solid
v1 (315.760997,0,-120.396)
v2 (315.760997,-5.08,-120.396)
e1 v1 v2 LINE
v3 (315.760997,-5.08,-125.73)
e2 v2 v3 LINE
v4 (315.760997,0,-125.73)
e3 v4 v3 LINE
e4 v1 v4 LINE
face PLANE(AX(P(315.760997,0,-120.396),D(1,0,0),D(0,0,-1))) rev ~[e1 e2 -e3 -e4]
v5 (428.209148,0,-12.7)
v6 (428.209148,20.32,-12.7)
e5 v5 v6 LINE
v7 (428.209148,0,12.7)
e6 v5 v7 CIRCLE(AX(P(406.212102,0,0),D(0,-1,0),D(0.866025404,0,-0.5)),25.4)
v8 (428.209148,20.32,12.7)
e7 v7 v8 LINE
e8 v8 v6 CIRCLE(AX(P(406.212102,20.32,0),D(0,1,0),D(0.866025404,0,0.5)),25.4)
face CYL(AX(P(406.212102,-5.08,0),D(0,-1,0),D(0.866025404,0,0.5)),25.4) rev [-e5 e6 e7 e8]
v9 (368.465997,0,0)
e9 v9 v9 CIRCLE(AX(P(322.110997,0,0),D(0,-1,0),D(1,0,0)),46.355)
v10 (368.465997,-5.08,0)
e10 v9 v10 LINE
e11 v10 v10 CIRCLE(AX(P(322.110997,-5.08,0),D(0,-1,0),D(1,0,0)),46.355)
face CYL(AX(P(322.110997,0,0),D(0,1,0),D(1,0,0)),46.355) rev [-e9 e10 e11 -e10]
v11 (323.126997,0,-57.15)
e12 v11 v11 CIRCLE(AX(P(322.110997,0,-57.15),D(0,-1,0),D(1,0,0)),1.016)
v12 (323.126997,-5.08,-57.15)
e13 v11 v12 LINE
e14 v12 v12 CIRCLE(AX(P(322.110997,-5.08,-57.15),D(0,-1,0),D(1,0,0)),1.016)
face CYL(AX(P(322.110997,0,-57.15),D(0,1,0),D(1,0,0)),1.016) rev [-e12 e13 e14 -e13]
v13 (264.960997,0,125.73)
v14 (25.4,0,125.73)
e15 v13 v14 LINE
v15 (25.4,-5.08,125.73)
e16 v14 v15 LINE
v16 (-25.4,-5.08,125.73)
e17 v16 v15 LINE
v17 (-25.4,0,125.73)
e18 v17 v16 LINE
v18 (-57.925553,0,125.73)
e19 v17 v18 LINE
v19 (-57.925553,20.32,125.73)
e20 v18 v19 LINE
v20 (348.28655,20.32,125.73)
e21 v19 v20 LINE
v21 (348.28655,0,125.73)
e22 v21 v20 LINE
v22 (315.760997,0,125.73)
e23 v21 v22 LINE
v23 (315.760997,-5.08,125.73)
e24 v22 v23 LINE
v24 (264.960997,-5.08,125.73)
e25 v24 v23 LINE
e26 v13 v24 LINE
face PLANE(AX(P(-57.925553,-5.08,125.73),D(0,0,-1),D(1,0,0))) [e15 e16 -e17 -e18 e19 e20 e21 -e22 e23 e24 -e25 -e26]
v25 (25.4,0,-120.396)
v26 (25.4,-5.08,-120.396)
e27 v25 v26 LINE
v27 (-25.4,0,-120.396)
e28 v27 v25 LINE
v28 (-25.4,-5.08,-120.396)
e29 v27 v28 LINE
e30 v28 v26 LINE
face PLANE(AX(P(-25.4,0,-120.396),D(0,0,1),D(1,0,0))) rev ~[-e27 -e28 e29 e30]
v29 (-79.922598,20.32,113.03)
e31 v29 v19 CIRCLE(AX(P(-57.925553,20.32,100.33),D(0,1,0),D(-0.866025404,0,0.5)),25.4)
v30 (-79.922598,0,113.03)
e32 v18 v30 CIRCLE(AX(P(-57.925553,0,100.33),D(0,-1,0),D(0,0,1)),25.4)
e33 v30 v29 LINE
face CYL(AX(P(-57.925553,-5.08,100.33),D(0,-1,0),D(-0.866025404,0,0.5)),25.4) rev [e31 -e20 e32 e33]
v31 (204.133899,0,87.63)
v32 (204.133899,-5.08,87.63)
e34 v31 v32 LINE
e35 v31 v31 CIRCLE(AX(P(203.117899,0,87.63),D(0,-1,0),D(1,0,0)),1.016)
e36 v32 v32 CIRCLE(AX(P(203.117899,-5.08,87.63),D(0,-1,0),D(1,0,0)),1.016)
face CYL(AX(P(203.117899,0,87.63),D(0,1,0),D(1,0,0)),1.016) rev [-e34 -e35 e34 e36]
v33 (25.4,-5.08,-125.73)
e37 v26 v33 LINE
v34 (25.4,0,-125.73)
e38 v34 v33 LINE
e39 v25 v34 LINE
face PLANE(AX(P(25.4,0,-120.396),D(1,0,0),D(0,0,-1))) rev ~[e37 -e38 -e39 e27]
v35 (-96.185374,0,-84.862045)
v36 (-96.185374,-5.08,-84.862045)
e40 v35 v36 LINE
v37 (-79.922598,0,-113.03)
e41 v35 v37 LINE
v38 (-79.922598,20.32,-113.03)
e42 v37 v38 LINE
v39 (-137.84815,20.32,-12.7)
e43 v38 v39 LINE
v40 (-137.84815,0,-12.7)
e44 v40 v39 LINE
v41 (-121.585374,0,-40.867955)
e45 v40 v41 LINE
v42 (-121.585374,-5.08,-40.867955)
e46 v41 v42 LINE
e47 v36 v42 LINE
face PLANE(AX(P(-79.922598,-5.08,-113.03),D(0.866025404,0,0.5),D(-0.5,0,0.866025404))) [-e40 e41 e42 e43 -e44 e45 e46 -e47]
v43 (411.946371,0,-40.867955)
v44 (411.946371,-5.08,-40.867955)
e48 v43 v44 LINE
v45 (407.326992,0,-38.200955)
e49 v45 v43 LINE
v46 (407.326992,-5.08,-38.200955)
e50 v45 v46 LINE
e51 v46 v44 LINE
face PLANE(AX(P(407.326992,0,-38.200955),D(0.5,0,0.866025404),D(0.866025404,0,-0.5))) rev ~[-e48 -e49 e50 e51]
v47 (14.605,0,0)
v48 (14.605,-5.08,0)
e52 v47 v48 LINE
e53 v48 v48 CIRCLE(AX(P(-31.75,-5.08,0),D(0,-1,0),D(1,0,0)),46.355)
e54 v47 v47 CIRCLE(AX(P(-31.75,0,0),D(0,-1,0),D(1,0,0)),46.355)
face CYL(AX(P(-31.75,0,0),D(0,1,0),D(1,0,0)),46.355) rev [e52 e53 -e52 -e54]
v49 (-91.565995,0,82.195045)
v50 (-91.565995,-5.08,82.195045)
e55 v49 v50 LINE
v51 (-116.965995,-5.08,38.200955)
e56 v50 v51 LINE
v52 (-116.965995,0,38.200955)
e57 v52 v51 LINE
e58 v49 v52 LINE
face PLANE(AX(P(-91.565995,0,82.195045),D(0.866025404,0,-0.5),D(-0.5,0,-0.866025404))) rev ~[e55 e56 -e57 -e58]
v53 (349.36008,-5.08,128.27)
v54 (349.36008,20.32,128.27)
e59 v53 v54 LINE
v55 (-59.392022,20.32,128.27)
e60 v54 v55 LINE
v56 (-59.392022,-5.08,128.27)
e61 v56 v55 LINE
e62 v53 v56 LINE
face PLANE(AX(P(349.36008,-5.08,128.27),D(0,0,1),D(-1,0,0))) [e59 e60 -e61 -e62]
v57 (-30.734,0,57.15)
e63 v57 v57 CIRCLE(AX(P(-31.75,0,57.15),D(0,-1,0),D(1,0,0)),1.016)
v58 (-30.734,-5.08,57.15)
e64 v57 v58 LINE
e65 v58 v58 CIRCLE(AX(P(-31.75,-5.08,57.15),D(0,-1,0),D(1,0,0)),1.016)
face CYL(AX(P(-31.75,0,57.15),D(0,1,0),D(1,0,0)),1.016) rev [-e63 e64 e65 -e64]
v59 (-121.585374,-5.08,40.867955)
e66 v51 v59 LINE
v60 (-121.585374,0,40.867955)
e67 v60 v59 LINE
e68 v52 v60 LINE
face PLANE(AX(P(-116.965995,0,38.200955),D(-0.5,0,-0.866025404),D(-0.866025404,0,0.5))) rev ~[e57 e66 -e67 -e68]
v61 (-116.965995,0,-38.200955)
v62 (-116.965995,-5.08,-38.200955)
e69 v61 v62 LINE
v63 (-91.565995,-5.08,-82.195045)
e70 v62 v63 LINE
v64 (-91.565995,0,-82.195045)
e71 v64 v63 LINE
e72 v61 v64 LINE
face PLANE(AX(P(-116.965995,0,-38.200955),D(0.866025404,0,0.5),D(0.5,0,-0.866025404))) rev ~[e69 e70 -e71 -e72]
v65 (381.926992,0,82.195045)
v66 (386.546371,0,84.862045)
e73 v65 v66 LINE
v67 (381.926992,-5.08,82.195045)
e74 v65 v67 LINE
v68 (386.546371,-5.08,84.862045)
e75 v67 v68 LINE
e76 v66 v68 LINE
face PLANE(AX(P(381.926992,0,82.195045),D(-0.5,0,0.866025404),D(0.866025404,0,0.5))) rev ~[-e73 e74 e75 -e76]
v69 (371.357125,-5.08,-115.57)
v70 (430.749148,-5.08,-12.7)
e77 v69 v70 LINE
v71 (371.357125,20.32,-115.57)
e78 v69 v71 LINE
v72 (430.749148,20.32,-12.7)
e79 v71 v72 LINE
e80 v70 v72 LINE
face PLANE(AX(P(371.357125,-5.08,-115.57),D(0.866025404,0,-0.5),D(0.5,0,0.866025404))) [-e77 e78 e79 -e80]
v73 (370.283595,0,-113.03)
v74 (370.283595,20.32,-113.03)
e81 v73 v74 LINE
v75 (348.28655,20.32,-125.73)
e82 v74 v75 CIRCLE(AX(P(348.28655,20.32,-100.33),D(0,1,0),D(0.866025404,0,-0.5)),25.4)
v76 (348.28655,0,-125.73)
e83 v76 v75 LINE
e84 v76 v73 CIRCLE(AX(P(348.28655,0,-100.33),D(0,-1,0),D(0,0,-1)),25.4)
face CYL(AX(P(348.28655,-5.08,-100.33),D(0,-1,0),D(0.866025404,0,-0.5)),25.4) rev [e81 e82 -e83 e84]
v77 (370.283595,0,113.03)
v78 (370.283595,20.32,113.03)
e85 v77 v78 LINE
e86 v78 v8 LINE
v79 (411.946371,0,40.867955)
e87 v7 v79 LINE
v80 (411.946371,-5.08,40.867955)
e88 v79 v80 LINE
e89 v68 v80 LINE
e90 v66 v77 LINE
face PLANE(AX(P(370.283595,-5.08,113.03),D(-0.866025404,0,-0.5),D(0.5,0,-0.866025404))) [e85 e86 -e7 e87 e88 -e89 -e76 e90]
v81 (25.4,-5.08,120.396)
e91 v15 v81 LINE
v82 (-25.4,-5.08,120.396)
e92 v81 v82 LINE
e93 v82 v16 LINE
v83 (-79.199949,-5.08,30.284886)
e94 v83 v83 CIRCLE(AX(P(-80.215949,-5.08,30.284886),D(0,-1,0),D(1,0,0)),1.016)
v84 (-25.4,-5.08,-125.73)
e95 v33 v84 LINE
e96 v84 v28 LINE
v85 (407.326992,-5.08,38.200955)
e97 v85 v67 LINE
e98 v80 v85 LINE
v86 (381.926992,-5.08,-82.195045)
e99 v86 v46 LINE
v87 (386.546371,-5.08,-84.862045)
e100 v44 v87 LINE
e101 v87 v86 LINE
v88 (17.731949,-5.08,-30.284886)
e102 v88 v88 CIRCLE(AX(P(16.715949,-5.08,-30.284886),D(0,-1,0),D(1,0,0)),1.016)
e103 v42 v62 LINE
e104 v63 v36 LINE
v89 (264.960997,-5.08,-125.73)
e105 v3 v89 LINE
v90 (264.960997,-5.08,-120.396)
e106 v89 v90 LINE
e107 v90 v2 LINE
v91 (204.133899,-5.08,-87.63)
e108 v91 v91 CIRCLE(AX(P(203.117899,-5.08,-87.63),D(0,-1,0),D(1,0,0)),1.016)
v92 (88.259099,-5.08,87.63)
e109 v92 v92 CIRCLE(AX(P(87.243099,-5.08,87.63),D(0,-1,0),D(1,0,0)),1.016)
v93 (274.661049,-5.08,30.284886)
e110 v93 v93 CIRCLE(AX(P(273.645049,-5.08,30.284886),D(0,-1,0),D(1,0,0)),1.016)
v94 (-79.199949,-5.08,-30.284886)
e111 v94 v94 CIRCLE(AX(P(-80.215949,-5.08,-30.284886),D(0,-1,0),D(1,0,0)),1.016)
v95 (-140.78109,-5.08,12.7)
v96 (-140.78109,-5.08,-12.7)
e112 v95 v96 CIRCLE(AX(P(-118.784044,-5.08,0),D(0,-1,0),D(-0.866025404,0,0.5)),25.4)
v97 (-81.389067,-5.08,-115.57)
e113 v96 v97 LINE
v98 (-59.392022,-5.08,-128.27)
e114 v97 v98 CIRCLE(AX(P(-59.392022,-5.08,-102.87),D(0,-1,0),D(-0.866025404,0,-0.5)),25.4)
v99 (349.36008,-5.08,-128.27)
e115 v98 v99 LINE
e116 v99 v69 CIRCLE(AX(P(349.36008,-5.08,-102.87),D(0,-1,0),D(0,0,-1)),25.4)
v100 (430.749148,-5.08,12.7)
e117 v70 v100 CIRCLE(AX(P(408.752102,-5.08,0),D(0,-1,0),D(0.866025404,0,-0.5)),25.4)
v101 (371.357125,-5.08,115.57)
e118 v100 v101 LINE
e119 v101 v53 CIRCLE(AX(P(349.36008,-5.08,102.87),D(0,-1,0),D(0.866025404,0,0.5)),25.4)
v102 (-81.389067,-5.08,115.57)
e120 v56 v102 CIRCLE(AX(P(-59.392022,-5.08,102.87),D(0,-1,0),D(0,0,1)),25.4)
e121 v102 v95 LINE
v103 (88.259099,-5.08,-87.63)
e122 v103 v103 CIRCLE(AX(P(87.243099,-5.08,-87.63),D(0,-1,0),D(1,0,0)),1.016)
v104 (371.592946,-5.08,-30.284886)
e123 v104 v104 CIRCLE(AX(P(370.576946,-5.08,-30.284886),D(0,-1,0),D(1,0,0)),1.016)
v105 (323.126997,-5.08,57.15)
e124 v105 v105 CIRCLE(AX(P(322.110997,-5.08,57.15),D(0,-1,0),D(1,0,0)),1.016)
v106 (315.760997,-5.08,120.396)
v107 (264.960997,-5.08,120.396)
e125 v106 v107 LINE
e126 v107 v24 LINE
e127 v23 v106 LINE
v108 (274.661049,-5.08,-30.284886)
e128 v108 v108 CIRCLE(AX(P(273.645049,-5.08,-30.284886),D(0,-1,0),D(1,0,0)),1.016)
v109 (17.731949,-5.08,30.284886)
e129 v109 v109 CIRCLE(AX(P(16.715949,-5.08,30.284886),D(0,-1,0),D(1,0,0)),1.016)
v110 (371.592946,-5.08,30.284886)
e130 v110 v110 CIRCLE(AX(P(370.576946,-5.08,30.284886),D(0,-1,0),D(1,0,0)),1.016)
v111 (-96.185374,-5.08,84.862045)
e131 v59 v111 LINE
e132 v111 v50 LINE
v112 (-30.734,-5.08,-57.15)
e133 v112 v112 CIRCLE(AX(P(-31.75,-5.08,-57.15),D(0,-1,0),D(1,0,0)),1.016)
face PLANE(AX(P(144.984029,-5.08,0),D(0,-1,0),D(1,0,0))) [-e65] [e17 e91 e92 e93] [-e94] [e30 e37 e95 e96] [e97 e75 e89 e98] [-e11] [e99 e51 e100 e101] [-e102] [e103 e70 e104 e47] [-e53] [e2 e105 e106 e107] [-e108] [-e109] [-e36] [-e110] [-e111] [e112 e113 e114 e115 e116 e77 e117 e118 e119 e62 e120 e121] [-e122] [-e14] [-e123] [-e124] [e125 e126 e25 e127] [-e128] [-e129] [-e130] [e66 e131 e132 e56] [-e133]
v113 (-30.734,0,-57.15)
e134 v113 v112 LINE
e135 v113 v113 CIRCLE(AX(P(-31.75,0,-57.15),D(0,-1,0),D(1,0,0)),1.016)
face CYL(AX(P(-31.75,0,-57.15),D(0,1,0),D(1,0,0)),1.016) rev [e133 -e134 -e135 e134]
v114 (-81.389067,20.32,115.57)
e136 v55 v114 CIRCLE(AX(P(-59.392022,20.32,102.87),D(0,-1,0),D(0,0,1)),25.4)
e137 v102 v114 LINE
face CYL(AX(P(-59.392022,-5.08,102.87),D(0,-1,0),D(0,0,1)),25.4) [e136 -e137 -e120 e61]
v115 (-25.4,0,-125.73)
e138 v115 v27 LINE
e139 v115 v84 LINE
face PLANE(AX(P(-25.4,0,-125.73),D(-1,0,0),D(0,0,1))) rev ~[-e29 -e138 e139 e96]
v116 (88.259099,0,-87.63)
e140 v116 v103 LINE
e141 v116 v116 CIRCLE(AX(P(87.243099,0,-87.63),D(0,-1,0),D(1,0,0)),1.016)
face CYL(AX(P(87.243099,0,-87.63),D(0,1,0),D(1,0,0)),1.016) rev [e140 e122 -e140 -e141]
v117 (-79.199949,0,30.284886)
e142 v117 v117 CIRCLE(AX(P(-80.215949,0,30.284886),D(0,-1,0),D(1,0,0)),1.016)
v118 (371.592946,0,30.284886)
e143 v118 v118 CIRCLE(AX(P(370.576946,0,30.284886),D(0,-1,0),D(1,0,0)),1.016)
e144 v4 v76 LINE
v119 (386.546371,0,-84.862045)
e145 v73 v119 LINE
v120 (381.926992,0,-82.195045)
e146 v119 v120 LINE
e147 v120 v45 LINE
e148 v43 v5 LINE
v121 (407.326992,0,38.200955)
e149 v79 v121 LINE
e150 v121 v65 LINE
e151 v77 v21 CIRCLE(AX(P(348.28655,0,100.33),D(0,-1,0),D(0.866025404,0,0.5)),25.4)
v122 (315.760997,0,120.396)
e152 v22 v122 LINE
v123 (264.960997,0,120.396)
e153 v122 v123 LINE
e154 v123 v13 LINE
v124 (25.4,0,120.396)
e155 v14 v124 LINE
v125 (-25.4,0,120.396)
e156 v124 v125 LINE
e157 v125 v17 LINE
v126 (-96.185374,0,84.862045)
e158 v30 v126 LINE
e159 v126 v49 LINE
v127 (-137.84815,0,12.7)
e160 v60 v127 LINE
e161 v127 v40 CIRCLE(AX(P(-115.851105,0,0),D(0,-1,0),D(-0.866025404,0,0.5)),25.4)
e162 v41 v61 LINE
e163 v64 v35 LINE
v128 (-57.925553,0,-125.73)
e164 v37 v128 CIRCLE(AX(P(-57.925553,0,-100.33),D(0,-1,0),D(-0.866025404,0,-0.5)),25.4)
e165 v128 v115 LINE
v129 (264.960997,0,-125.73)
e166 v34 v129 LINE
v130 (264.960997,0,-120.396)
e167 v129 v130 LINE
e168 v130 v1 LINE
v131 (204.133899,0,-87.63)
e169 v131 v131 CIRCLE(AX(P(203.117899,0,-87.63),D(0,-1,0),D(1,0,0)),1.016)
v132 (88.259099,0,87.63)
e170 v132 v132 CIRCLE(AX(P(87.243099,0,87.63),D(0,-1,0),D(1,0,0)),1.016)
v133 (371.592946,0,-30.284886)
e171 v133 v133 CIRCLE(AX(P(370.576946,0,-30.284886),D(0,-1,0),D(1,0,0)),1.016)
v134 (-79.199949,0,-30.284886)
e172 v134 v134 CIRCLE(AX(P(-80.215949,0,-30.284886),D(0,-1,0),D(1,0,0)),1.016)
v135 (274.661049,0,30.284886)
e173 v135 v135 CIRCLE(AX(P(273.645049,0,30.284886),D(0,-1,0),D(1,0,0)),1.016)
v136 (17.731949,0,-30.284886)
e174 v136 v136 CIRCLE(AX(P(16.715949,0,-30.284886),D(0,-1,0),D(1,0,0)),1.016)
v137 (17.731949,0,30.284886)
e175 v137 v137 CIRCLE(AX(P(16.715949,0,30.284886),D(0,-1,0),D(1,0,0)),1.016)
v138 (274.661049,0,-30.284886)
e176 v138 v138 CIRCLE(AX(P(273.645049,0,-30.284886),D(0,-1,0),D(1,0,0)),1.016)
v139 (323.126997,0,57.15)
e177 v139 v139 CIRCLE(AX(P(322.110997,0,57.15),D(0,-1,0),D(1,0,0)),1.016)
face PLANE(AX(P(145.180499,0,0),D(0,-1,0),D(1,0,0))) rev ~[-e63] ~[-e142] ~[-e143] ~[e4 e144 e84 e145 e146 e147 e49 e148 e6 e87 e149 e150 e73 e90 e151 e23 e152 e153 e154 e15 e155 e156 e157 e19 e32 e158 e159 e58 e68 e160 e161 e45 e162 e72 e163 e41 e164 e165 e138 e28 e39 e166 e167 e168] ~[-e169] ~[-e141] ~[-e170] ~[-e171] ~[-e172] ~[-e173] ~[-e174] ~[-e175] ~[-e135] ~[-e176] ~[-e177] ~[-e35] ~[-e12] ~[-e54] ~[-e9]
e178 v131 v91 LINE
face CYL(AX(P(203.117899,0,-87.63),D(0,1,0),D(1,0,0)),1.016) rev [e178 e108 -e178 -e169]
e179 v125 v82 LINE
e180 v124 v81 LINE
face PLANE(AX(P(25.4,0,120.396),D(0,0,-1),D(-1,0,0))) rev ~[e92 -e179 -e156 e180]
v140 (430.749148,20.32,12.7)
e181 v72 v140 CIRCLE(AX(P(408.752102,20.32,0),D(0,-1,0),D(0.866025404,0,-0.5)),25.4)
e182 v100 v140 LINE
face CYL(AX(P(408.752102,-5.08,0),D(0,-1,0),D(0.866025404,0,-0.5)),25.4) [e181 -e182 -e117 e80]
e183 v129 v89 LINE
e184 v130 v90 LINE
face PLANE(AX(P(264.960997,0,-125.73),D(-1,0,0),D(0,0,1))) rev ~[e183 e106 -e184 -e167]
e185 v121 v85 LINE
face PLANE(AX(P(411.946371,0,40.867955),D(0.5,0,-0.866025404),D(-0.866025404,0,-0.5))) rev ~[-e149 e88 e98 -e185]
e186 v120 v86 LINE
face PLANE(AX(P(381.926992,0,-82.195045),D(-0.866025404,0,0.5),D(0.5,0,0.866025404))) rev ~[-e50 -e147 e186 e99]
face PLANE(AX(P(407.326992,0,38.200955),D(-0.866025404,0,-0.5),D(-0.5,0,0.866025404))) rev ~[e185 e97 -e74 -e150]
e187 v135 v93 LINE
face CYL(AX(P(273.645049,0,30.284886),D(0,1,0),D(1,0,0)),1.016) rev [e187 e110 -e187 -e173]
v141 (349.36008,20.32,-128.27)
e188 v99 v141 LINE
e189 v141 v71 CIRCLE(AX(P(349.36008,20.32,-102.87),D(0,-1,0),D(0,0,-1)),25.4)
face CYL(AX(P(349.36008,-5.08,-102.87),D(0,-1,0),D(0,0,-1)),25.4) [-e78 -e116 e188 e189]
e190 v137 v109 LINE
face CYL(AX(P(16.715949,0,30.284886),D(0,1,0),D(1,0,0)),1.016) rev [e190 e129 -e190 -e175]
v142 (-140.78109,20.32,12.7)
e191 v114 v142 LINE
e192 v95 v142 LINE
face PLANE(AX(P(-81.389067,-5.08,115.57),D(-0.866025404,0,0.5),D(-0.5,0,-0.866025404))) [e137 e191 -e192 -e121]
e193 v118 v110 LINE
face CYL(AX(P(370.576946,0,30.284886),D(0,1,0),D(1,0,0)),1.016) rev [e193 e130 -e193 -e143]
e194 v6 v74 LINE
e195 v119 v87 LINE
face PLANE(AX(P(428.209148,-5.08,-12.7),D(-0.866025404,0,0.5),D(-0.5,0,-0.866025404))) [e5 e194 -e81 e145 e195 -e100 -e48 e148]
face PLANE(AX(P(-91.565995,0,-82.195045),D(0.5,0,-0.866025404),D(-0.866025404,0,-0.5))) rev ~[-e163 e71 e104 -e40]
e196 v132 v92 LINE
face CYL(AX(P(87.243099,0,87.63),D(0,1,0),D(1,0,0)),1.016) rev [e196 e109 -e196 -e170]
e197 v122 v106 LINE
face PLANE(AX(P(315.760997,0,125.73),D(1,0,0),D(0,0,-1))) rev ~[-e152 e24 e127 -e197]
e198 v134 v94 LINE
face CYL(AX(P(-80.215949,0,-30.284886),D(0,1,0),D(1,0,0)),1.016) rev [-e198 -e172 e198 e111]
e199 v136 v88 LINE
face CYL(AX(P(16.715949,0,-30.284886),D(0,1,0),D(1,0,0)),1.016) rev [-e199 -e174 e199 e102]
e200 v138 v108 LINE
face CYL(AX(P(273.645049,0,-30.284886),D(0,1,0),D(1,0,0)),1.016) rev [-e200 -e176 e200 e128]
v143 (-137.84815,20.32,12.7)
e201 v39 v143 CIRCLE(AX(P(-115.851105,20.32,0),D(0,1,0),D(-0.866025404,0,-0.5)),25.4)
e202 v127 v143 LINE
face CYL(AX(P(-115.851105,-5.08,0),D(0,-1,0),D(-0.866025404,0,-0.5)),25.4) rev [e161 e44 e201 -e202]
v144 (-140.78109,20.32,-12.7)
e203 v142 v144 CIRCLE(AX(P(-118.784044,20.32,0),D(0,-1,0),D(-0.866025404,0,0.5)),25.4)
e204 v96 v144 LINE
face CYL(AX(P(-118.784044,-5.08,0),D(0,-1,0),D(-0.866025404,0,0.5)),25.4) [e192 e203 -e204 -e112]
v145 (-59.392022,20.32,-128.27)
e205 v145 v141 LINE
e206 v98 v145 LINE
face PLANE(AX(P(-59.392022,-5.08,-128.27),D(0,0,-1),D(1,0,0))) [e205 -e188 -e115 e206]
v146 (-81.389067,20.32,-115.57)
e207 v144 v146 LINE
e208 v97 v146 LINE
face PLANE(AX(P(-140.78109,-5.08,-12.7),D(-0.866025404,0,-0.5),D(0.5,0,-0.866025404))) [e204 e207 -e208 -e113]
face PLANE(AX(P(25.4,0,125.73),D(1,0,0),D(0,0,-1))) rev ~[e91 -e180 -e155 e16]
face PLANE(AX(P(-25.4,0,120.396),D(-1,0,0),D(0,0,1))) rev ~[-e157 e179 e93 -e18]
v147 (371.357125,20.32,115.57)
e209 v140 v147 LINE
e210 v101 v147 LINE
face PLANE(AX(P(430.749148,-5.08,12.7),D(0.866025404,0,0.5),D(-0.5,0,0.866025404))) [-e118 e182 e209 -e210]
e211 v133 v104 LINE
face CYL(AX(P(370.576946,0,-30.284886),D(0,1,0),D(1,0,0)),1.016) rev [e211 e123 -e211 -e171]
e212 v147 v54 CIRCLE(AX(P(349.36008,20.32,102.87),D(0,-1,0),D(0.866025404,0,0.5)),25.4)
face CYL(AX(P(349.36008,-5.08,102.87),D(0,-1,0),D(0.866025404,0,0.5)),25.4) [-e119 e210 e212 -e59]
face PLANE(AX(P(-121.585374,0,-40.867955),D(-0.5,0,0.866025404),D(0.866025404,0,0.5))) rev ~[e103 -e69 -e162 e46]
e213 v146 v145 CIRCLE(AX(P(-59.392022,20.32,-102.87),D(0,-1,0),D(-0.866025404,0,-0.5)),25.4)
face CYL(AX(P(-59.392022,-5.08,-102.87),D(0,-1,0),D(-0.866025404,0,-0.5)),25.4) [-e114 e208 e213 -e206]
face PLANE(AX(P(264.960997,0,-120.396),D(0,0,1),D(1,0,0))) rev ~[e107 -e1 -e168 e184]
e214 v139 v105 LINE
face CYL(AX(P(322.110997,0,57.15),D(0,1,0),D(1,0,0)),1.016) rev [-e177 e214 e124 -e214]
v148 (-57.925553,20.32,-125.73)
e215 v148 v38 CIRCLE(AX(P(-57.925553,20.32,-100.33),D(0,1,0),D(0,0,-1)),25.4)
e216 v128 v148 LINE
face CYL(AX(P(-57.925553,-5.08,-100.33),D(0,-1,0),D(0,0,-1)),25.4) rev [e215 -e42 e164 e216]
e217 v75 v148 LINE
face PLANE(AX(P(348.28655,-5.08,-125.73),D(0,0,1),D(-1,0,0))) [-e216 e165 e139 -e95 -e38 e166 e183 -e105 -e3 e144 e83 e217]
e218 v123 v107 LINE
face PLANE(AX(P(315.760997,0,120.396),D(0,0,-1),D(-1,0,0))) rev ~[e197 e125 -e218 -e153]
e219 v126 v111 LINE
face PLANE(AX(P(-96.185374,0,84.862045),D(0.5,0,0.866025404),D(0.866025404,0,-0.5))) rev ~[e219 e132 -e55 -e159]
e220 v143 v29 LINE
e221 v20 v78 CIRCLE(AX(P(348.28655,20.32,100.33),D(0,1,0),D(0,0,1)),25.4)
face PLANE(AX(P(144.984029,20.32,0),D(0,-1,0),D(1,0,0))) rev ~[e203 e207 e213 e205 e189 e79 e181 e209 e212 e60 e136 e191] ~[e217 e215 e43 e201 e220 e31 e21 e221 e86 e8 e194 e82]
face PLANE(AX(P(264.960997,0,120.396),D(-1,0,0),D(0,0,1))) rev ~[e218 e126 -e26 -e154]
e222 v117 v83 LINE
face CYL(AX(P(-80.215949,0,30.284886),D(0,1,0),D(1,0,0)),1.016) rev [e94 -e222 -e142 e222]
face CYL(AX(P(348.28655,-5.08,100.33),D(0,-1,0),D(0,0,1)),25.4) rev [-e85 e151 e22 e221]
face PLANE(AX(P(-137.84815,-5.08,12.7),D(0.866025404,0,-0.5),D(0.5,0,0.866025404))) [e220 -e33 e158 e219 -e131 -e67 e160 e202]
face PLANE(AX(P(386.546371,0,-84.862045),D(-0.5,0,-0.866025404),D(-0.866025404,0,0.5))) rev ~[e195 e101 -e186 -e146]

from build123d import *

# Parameters (mm, degrees)
F0_R     = 1.016
F0_R_2   = 46.355
F1_DEPTH = 5.08
F3_DEPTH = 25.4


with BuildPart() as f1:
    # F0 (on Front) → F1 (new body)
    with BuildSketch(Plane.XZ):
        with BuildLine():
            Line((217.7707480356, 125.73), (72.5902493452, 125.73))
            Line((72.5902493452, 125.73), (25.4, 125.73))
            Line((25.4, 125.73), (25.4, 120.396))
            Line((25.4, 120.396), (-25.4, 120.396))
            Line((-25.4, 120.396), (-25.4, 125.73))
            Line((-25.4, 125.73), (-57.9255525078, 125.73))
            ThreePointArc((-57.9255525078, 125.73), (-70.6255525078, 122.3270452561), (-79.9225977639, 113.03))
            Line((-79.9225977639, 113.03), (-96.1853740178, 84.8620452561))
            Line((-96.1853740178, 84.8620452561), (-91.565994514, 82.1950452561))
            Line((-91.565994514, 82.1950452561), (-116.965994514, 38.2009547439))
            Line((-116.965994514, 38.2009547439), (-121.5853740178, 40.8679547439))
            Line((-121.5853740178, 40.8679547439), (-137.8481502717, 12.7))
            ThreePointArc((-137.8481502717, 12.7), (-141.2511050156, 0), (-137.8481502717, -12.7))
            Line((-137.8481502717, -12.7), (-121.5853740178, -40.8679547439))
            Line((-121.5853740178, -40.8679547439), (-116.965994514, -38.2009547439))
            Line((-116.965994514, -38.2009547439), (-91.565994514, -82.1950452561))
            Line((-91.565994514, -82.1950452561), (-96.1853740178, -84.8620452561))
            Line((-96.1853740178, -84.8620452561), (-79.9225977639, -113.03))
            ThreePointArc((-79.9225977639, -113.03), (-70.6255525078, -122.3270452561), (-57.9255525078, -125.73))
            Line((-57.9255525078, -125.73), (-25.4, -125.73))
            Line((-25.4, -125.73), (-25.4, -120.396))
            Line((-25.4, -120.396), (25.4, -120.396))
            Line((25.4, -120.396), (25.4, -125.73))
            Line((25.4, -125.73), (72.5902493452, -125.73))
            Line((72.5902493452, -125.73), (217.7707480356, -125.73))
            Line((217.7707480356, -125.73), (264.9609973808, -125.73))
            Line((264.9609973808, -125.73), (264.9609973808, -120.396))
            Line((264.9609973808, -120.396), (315.7609973808, -120.396))
            Line((315.7609973808, -120.396), (315.7609973808, -125.73))
            Line((315.7609973808, -125.73), (348.2865498886, -125.73))
            ThreePointArc((348.2865498886, -125.73), (360.9865498886, -122.3270452561), (370.2835951448, -113.03))
            Line((370.2835951448, -113.03), (386.5463713987, -84.8620452561))
            Line((386.5463713987, -84.8620452561), (381.9269918949, -82.1950452561))
            Line((381.9269918949, -82.1950452561), (407.3269918949, -38.2009547439))
            Line((407.3269918949, -38.2009547439), (411.9463713987, -40.8679547439))
            Line((411.9463713987, -40.8679547439), (428.2091476526, -12.7))
            ThreePointArc((428.2091476526, -12.7), (431.6121023964, 0), (428.2091476526, 12.7))
            Line((428.2091476526, 12.7), (411.9463713987, 40.8679547439))
            Line((411.9463713987, 40.8679547439), (407.3269918949, 38.2009547439))
            Line((407.3269918949, 38.2009547439), (381.9269918949, 82.1950452561))
            Line((381.9269918949, 82.1950452561), (386.5463713987, 84.8620452561))
            Line((386.5463713987, 84.8620452561), (370.2835951448, 113.03))
            ThreePointArc((370.2835951448, 113.03), (360.9865498886, 122.3270452561), (348.2865498886, 125.73))
            Line((348.2865498886, 125.73), (315.7609973808, 125.73))
            Line((315.7609973808, 125.73), (315.7609973808, 120.396))
            Line((315.7609973808, 120.396), (264.9609973808, 120.396))
            Line((264.9609973808, 120.396), (264.9609973808, 125.73))
            Line((264.9609973808, 125.73), (217.7707480356, 125.73))
        make_face()
        with Locations((87.2430986904, -87.63)):
            Circle(F0_R, mode=Mode.SUBTRACT)
        with Locations((-31.75, -57.15)):
            Circle(F0_R, mode=Mode.SUBTRACT)
        with Locations((-80.2159486953, -30.2848859509)):
            Circle(F0_R, mode=Mode.SUBTRACT)
        with Locations((16.7159486953, -30.2848859509)):
            Circle(F0_R, mode=Mode.SUBTRACT)
        with Locations((203.1178986904, -87.63)):
            Circle(F0_R, mode=Mode.SUBTRACT)
        with Locations((273.6450486855, -30.2848859509)):
            Circle(F0_R, mode=Mode.SUBTRACT)
        with Locations((322.1109973808, -57.15)):
            Circle(F0_R, mode=Mode.SUBTRACT)
        with Locations((370.5769460762, -30.2848859509)):
            Circle(F0_R, mode=Mode.SUBTRACT)
        with Locations((-80.2159486953, 30.2848859509)):
            Circle(F0_R, mode=Mode.SUBTRACT)
        with Locations((-31.75, 0)):
            Circle(F0_R_2, mode=Mode.SUBTRACT)
        with Locations((-31.75, 57.15)):
            Circle(F0_R, mode=Mode.SUBTRACT)
        with Locations((16.7159486953, 30.2848859509)):
            Circle(F0_R, mode=Mode.SUBTRACT)
        with Locations((87.2430986904, 87.63)):
            Circle(F0_R, mode=Mode.SUBTRACT)
        with Locations((273.6450486855, 30.2848859509)):
            Circle(F0_R, mode=Mode.SUBTRACT)
        with Locations((322.1109973808, 0)):
            Circle(F0_R_2, mode=Mode.SUBTRACT)
        with Locations((370.5769460762, 30.2848859509)):
            Circle(F0_R, mode=Mode.SUBTRACT)
        with Locations((322.1109973808, 57.15)):
            Circle(F0_R, mode=Mode.SUBTRACT)
        with Locations((203.1178986904, 87.63)):
            Circle(F0_R, mode=Mode.SUBTRACT)
    extrude(amount=F1_DEPTH)

    # F2 (on face) → F3 (join)
    with BuildSketch(Plane.XZ.offset(5.08)):
        with BuildLine():
            Line((74.056719029, 128.27), (-59.3920221915, 128.27))
            ThreePointArc((-59.3920221915, 128.27), (-72.0920221915, 124.8670452561), (-81.3890674477, 115.57))
            Line((-81.3890674477, 115.57), (-140.7810896392, 12.7))
            ThreePointArc((-140.7810896392, 12.7), (-144.1840443831, 0), (-140.7810896392, -12.7))
            Line((-140.7810896392, -12.7), (-81.3890674477, -115.57))
            ThreePointArc((-81.3890674477, -115.57), (-72.0920221915, -124.8670452561), (-59.3920221915, -128.27))
            Line((-59.3920221915, -128.27), (74.056719029, -128.27))
            Line((74.056719029, -128.27), (349.3600802049, -128.27))
            ThreePointArc((349.3600802049, -128.27), (362.0600802049, -124.8670452561), (371.357125461, -115.57))
            Line((371.357125461, -115.57), (430.7491476526, -12.7))
            ThreePointArc((430.7491476526, -12.7), (434.1521023964, 0), (430.7491476526, 12.7))
            Line((430.7491476526, 12.7), (371.357125461, 115.57))
            ThreePointArc((371.357125461, 115.57), (362.0600802049, 124.8670452561), (349.3600802049, 128.27))
            Line((349.3600802049, 128.27), (215.9113389844, 128.27))
            Line((215.9113389844, 128.27), (74.056719029, 128.27))
        make_face()
        with BuildLine():
            Line((-57.9255525078, 125.73), (-25.4, 125.73))
            Line((-25.4, 125.73), (25.4, 125.73))
            Line((25.4, 125.73), (264.9609973808, 125.73))
            Line((264.9609973808, 125.73), (315.7609973808, 125.73))
            Line((315.7609973808, 125.73), (348.2865498886, 125.73))
            ThreePointArc((348.2865498886, 125.73), (360.9865498886, 122.3270452561), (370.2835951448, 113.03))
            Line((370.2835951448, 113.03), (386.5463713987, 84.8620452561))
            Line((386.5463713987, 84.8620452561), (411.9463713987, 40.8679547439))
            Line((411.9463713987, 40.8679547439), (428.2091476526, 12.7))
            ThreePointArc((428.2091476526, 12.7), (431.6121023964, 0), (428.2091476526, -12.7))
            Line((428.2091476526, -12.7), (411.9463713987, -40.8679547439))
            Line((411.9463713987, -40.8679547439), (386.5463713987, -84.8620452561))
            Line((386.5463713987, -84.8620452561), (370.2835951448, -113.03))
            ThreePointArc((370.2835951448, -113.03), (360.9865498886, -122.3270452561), (348.2865498886, -125.73))
            Line((348.2865498886, -125.73), (315.7609973808, -125.73))
            Line((315.7609973808, -125.73), (264.9609973808, -125.73))
            Line((264.9609973808, -125.73), (25.4, -125.73))
            Line((25.4, -125.73), (-25.4, -125.73))
            Line((-25.4, -125.73), (-57.9255525078, -125.73))
            ThreePointArc((-57.9255525078, -125.73), (-70.6255525078, -122.3270452561), (-79.9225977639, -113.03))
            Line((-79.9225977639, -113.03), (-96.1853740178, -84.8620452561))
            Line((-96.1853740178, -84.8620452561), (-121.5853740178, -40.8679547439))
            Line((-121.5853740178, -40.8679547439), (-137.8481502717, -12.7))
            ThreePointArc((-137.8481502717, -12.7), (-141.2511050156, 0), (-137.8481502717, 12.7))
            Line((-137.8481502717, 12.7), (-121.5853740178, 40.8679547439))
            Line((-121.5853740178, 40.8679547439), (-96.1853740178, 84.8620452561))
            Line((-96.1853740178, 84.8620452561), (-79.9225977639, 113.03))
            ThreePointArc((-79.9225977639, 113.03), (-70.6255525078, 122.3270452561), (-57.9255525078, 125.73))
        make_face(mode=Mode.SUBTRACT)
    extrude(amount=-F3_DEPTH)


solid = f1.part
